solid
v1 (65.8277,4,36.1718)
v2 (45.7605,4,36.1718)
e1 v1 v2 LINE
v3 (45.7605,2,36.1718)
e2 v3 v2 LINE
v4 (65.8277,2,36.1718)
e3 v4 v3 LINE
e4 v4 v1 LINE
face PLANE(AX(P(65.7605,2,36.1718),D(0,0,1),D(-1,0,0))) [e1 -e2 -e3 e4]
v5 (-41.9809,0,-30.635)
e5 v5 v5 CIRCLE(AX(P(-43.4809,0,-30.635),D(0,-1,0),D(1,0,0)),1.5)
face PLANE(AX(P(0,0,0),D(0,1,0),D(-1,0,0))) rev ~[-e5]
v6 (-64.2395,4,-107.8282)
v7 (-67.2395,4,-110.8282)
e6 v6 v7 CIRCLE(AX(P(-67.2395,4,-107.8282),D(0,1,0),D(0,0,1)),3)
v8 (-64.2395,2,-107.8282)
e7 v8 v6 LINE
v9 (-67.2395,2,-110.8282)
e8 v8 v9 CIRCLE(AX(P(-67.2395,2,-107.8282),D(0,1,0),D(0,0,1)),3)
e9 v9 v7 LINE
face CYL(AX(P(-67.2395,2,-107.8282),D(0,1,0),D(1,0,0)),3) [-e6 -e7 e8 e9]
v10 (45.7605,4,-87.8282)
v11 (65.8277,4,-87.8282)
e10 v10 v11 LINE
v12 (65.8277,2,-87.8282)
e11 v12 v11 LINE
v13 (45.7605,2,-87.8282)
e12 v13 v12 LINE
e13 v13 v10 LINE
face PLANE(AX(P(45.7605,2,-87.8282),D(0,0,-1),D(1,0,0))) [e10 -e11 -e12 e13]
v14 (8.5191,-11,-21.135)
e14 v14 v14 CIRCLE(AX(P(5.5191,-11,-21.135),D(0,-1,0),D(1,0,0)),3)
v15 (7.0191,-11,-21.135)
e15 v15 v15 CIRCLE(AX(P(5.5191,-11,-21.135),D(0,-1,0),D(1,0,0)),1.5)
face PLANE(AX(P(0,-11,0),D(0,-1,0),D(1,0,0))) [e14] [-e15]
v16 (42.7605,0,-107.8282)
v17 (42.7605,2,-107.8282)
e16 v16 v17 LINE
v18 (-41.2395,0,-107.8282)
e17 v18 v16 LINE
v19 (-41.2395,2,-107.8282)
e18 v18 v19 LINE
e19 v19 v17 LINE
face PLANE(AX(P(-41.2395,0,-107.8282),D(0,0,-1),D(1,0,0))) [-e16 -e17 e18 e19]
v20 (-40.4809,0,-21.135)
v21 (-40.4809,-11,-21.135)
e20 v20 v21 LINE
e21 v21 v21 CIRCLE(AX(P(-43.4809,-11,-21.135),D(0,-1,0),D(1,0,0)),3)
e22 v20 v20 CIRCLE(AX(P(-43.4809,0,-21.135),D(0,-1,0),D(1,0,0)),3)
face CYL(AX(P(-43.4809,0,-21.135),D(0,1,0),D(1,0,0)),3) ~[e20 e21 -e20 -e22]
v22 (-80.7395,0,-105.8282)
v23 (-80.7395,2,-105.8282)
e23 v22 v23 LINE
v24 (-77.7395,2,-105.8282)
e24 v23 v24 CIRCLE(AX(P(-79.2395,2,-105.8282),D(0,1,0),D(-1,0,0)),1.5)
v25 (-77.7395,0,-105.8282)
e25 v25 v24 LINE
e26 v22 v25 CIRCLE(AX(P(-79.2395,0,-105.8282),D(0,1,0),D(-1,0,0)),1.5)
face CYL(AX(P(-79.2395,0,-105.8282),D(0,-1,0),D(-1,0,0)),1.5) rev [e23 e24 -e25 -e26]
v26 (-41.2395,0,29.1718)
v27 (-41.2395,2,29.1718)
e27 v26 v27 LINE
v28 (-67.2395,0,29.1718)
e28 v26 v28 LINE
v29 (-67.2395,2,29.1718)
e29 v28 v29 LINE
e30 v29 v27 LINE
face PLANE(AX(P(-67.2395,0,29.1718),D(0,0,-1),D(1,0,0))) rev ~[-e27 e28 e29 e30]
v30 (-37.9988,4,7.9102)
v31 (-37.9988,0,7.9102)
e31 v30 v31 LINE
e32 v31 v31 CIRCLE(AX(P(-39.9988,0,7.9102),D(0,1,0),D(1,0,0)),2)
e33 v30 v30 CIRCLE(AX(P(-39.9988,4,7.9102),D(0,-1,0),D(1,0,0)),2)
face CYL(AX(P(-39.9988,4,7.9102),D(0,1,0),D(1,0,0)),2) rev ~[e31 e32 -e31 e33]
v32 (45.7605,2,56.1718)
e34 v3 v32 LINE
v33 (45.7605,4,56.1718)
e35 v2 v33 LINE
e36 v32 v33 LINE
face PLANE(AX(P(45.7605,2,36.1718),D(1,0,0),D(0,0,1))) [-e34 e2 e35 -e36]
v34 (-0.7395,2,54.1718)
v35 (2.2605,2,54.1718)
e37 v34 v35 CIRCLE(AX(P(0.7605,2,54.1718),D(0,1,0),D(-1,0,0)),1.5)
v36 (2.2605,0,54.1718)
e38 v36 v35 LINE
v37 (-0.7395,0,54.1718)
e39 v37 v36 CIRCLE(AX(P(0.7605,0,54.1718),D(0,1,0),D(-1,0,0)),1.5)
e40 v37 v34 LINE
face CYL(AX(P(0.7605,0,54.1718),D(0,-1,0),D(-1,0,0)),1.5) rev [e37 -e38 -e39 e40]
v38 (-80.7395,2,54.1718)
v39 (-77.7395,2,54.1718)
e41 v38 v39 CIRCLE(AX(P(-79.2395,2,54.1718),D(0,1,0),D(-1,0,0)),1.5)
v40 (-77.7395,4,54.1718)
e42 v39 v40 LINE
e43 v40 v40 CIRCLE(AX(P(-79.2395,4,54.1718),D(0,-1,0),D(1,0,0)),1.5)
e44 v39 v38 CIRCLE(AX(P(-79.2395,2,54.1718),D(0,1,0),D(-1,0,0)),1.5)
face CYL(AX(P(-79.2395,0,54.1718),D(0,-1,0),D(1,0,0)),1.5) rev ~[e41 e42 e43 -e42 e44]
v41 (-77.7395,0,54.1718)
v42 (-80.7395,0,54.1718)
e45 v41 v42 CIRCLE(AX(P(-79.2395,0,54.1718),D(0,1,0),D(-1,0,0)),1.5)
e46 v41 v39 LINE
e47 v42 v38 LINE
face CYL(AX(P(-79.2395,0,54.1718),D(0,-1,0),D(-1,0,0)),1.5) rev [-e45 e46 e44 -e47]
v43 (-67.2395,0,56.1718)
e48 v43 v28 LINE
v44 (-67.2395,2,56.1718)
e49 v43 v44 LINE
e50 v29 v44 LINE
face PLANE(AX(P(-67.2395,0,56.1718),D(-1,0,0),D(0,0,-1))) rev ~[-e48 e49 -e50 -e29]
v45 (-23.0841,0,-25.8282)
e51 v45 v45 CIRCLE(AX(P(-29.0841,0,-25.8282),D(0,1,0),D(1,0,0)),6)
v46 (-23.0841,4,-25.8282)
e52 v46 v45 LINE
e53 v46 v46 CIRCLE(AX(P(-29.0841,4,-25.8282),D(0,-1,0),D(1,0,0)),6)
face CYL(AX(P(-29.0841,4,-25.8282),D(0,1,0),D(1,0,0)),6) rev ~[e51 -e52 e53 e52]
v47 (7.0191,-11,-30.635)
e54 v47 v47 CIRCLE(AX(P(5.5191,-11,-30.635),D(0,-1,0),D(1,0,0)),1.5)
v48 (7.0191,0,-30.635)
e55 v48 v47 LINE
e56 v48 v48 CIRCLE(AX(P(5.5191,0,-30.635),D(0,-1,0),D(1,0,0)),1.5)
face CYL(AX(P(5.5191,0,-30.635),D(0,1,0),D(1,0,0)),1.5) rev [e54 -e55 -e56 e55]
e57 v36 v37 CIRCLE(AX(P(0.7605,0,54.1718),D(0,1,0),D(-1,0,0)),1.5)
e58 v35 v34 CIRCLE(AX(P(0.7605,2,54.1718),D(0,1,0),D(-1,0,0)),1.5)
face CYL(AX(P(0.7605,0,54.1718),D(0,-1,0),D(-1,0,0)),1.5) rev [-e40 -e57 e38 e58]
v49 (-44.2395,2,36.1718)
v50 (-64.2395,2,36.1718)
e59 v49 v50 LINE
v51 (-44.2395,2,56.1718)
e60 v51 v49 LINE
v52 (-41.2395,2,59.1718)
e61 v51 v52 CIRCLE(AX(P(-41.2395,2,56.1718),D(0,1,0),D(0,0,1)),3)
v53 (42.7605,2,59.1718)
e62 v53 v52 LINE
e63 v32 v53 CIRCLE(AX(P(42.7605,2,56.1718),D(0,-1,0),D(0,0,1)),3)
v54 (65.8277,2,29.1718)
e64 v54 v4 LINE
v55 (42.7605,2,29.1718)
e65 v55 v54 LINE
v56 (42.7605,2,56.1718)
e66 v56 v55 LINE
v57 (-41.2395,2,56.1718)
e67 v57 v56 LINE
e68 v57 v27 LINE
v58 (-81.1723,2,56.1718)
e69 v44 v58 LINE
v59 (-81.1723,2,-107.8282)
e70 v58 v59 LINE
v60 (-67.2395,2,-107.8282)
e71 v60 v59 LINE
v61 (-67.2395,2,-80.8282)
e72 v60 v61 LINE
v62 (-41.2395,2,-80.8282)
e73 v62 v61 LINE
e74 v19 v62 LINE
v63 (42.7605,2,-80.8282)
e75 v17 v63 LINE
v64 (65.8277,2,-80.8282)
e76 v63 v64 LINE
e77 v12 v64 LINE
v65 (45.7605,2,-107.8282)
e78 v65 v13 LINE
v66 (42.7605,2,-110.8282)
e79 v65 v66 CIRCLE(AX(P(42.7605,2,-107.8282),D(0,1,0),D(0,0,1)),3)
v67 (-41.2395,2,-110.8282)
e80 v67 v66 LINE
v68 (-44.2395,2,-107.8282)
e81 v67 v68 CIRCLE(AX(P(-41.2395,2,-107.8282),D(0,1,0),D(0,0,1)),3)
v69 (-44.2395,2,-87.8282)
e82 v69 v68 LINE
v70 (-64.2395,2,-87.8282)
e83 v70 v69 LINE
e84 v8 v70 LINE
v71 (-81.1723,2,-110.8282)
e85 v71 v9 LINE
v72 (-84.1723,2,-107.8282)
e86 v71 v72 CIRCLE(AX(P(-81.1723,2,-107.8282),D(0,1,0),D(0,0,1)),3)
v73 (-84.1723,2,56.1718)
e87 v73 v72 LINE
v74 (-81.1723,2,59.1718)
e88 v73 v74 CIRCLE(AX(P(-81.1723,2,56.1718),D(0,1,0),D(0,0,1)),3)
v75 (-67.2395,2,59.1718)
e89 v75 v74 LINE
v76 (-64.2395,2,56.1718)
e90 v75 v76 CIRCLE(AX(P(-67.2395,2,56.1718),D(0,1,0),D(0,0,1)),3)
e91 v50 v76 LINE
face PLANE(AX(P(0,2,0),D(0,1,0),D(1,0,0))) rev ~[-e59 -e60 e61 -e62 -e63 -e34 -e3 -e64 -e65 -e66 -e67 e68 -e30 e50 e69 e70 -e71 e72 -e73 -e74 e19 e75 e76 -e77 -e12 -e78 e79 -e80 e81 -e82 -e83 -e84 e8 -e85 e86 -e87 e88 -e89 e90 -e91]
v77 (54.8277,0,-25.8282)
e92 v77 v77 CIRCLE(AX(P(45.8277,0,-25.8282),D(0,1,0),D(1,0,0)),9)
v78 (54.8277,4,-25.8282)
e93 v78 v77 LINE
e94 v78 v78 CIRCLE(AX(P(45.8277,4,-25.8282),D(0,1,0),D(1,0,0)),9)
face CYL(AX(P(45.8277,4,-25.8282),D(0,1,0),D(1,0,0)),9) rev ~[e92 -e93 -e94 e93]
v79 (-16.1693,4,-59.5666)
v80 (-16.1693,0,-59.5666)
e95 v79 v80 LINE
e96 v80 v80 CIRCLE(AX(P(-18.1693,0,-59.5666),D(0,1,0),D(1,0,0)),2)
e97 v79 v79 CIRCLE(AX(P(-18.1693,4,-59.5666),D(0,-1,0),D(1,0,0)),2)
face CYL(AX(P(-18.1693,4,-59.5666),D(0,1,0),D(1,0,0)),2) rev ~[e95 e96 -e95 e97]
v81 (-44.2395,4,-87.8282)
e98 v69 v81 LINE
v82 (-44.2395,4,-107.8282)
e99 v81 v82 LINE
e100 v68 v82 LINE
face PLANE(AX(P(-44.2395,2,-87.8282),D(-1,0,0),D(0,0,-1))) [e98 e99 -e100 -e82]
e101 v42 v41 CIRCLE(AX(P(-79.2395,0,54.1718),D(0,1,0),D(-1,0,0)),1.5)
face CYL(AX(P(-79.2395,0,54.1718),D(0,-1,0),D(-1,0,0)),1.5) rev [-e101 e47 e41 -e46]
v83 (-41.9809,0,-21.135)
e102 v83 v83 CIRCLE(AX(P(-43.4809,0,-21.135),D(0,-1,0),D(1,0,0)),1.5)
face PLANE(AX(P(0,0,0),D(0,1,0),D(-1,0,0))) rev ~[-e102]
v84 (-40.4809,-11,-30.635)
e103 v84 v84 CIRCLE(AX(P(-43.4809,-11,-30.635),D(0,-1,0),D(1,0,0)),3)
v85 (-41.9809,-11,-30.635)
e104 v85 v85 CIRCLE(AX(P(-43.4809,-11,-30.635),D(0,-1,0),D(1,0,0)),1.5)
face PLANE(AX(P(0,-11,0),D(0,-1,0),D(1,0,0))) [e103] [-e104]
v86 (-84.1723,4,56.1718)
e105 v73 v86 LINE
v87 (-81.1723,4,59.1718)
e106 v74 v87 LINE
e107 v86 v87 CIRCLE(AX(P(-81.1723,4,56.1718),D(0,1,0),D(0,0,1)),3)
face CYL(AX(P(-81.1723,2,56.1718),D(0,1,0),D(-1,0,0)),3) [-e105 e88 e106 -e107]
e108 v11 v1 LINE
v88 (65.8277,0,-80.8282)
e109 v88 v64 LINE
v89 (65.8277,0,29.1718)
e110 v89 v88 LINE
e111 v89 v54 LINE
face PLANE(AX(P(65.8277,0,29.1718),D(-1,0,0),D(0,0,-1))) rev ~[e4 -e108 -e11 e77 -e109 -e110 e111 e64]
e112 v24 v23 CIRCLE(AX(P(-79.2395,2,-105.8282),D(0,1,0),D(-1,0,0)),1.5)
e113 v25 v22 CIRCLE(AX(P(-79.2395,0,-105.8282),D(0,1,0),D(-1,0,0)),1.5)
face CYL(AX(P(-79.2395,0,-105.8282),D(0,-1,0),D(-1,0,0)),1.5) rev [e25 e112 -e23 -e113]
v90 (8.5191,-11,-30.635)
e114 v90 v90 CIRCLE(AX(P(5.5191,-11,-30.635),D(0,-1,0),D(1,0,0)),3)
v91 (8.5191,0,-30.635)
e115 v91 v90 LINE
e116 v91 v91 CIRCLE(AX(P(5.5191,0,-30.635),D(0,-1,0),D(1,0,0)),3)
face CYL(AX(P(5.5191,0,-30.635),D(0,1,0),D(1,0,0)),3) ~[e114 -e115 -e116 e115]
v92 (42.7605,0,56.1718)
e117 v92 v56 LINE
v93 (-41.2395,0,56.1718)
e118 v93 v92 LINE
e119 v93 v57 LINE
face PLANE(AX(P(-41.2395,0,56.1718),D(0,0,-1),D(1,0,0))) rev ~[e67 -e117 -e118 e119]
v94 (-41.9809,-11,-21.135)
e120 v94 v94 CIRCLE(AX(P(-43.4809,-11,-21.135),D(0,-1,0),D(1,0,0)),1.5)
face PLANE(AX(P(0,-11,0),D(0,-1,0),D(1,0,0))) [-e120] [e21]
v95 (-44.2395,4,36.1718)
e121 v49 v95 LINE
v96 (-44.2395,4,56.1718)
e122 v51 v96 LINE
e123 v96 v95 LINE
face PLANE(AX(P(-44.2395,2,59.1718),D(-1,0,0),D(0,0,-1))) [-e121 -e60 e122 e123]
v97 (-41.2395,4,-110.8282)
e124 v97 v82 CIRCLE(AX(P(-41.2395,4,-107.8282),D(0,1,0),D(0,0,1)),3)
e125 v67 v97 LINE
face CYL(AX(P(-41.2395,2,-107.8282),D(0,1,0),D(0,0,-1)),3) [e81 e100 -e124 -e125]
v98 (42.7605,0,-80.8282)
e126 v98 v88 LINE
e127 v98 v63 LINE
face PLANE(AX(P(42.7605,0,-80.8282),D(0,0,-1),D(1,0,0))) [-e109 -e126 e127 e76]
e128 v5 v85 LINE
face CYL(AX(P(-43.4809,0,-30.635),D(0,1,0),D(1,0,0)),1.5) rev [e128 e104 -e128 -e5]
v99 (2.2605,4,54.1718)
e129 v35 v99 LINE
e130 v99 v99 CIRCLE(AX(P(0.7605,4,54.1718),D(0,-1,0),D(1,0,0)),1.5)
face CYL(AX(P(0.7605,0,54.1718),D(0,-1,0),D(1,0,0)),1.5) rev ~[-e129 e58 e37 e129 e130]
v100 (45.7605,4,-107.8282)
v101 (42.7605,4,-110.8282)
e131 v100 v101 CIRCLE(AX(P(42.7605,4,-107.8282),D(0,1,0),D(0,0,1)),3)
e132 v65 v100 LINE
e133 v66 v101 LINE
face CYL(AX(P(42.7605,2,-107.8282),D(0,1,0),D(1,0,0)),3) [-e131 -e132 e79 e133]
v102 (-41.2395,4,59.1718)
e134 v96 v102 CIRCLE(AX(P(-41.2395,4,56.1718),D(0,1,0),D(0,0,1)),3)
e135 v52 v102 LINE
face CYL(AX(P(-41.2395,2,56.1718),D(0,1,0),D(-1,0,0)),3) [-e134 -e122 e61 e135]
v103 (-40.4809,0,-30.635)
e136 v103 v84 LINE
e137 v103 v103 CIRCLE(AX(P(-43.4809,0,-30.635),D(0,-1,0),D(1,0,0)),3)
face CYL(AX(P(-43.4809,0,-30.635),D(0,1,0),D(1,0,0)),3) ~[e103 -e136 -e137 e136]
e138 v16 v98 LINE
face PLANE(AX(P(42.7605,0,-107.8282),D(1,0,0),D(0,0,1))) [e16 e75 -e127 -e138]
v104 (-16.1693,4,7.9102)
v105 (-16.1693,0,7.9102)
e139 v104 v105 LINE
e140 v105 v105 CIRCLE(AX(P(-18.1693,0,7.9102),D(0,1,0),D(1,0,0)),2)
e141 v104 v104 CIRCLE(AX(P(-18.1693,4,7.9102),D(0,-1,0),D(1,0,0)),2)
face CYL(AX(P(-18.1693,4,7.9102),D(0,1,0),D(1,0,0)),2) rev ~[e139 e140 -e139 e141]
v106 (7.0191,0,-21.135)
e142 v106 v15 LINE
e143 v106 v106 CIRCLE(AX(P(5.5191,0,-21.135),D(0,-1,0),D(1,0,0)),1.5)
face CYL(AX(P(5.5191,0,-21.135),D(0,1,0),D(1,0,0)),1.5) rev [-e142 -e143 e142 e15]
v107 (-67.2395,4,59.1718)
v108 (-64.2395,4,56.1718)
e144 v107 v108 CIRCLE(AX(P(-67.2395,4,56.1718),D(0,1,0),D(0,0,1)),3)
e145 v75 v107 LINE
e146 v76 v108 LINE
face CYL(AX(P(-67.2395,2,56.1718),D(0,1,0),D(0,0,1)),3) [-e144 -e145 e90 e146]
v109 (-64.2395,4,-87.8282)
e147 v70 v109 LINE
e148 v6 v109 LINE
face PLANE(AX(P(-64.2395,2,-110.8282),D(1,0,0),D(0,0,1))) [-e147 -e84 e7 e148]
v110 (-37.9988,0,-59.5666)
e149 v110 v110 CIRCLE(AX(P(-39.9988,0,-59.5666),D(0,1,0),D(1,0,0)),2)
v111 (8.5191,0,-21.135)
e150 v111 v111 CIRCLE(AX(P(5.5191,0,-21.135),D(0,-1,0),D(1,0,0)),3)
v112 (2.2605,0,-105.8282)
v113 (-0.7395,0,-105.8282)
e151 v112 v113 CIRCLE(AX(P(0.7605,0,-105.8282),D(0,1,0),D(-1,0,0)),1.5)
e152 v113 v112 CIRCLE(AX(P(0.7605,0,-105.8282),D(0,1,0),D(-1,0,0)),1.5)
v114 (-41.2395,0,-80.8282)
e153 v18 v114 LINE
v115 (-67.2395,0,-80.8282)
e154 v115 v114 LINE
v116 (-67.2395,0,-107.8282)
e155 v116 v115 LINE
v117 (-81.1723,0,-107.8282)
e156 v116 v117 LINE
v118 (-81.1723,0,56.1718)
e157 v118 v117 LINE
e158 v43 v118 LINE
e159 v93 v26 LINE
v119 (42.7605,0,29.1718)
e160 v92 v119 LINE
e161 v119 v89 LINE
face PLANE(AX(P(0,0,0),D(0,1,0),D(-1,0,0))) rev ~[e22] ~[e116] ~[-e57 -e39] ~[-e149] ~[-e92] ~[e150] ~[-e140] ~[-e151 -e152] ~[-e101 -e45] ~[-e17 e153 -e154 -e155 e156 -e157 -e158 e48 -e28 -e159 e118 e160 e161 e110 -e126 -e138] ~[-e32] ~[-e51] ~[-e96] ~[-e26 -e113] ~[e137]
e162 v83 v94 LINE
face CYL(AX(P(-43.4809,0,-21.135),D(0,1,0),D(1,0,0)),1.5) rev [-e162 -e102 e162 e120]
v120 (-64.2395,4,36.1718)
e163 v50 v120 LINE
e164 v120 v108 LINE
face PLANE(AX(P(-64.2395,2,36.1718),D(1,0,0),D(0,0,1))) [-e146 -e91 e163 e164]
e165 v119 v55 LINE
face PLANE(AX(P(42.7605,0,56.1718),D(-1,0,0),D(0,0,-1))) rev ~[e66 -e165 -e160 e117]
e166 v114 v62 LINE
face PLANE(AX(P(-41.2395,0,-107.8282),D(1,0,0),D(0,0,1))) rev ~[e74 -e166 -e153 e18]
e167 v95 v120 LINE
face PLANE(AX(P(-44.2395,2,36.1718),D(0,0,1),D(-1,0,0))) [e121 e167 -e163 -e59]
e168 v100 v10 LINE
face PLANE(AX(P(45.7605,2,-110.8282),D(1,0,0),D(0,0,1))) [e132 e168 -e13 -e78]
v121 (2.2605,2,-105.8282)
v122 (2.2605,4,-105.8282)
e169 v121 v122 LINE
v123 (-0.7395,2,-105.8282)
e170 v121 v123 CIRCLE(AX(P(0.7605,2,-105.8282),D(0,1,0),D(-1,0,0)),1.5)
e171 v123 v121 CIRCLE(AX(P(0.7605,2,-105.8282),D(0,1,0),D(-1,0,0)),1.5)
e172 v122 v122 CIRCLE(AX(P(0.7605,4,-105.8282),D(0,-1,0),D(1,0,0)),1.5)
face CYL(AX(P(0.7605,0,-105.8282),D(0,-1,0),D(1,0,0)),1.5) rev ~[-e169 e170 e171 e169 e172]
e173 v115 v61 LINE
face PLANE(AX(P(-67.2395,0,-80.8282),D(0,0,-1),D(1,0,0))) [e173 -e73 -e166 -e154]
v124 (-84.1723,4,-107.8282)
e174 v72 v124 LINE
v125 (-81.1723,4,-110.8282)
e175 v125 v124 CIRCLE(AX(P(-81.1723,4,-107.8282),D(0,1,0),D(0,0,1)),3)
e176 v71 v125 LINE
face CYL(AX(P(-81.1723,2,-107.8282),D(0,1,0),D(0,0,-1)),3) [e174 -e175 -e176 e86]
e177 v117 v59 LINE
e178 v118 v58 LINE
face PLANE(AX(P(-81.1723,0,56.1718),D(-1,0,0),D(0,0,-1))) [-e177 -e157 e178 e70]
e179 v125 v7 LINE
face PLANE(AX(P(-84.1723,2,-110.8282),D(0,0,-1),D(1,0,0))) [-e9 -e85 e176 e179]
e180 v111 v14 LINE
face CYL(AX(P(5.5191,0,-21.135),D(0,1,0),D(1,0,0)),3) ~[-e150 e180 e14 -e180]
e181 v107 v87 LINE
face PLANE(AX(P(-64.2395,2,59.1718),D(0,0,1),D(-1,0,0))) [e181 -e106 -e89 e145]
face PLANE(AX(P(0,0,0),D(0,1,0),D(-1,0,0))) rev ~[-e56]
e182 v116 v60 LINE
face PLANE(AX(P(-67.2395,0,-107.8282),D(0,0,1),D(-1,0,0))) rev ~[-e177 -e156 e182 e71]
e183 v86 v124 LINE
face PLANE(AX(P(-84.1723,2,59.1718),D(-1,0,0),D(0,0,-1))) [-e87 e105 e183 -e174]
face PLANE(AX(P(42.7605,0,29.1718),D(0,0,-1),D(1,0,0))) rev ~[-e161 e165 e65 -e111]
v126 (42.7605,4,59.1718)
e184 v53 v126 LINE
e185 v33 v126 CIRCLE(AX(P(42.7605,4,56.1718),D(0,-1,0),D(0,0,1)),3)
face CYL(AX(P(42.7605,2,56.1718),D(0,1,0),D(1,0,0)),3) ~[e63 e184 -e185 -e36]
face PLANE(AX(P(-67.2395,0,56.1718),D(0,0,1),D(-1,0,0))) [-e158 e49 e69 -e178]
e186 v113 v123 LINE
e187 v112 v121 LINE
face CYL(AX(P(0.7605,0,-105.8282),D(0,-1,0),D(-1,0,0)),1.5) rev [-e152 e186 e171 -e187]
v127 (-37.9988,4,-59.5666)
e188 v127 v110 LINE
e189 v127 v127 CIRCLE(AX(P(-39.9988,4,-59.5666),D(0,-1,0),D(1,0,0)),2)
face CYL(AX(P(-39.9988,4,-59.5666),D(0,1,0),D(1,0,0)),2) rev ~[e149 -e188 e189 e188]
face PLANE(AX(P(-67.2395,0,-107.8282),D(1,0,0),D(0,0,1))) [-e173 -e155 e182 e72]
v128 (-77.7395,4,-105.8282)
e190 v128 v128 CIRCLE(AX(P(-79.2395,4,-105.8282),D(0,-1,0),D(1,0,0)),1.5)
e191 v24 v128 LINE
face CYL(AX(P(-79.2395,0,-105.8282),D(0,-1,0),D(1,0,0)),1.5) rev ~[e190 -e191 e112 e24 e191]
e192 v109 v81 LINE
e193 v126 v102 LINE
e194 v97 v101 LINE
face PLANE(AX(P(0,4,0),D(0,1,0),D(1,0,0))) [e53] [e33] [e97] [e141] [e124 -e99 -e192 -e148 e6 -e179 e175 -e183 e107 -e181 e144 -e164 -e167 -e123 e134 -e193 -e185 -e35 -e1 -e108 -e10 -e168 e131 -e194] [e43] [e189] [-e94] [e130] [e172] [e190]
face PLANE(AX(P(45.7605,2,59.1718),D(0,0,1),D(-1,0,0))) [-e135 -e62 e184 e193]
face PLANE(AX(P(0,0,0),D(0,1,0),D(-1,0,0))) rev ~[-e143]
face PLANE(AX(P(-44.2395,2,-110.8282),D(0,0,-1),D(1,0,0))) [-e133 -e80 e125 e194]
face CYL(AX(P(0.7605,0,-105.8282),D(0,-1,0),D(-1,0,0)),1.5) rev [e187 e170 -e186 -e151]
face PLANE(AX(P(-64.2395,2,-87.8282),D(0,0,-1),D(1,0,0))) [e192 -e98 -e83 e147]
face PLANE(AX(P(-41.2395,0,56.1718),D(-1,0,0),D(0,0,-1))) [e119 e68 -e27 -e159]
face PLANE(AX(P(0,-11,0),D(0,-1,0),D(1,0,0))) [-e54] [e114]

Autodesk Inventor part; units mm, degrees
ref_plane "YZ Plane" through (0, 0, 0) normal (1, 0, 0) x (0, 1, 0)
ref_plane "XZ Plane" through (0, 0, 0) normal (0, 1, 0) x (-1, 0, 0)
ref_plane "XY Plane" through (0, 0, 0) normal (0, 0, 1) x (1, 0, 0)
sketch "Sketch1" plane through (0, 0, 0) normal (0, 1, 0) x (-1, 0, 0)
  line L0 (-66.8277, -81.8282) -> (-43.7605, -81.8282)
  line L1 (-43.7605, -81.8282) -> (-43.7605, -108.8282)
  line L2 (-43.7605, -108.8282) -> (-43.7605, -81.8282)
  line L3 (-43.7605, -108.8282) -> (42.2395, -108.8282)
  line L4 (42.2395, -108.8282) -> (-43.7605, -108.8282)
  line L5 (42.2395, -108.8282) -> (42.2395, -81.8282)
  line L6 (42.2395, -81.8282) -> (66.2395, -81.8282)
  line L7 (66.2395, -81.8282) -> (66.2395, -108.8282)
  line L8 (66.2395, -108.8282) -> (82.1723, -108.8282)
  line L9 (82.1723, -108.8282) -> (82.1723, 57.1718)
  line L10 (82.1723, 57.1718) -> (66.2395, 57.1718)
  line L11 (66.2395, 57.1718) -> (82.1723, 57.1718)
  line L12 (66.2395, 30.1718) -> (42.2395, 30.1718)
  line L13 (42.2395, 30.1718) -> (42.2395, 57.1718)
  line L14 (42.2395, 30.1718) -> (42.2395, 57.1718)
  line L15 (42.2395, 57.1718) -> (-43.7605, 57.1718)
  line L16 (-43.7605, 30.1718) -> (-66.8277, 30.1718)
  line L17 (-66.8277, 30.1718) -> (-43.7605, 30.1718)
  line L18 (-66.8277, 30.1718) -> (-66.8277, -81.8282)
  circle A0 centre (79.2395, -105.8282) radius 1.5
  circle A1 centre (79.2395, -105.8282) radius 1.5
  circle A2 centre (79.2395, 54.1718) radius 1.5
  circle A3 centre (79.2395, 54.1718) radius 1.5
  circle A4 centre (-0.7605, 54.1718) radius 1.5
  circle A5 centre (-0.7605, 54.1718) radius 1.5
  circle A6 centre (-0.7605, -105.8282) radius 1.5
  line L19 (-43.7605, 57.1718) -> (-43.7605, 30.1718)
  line L20 (82.1723, 57.1718) -> (81.1723, 57.1718)
  line L21 (82.1723, 57.1718) -> (82.1723, 56.1718)
  line L22 (66.2395, 57.1718) -> (66.2395, 30.1718)
  line L23 (67.2395, 30.1718) -> (67.2395, 29.1718)
  line L24 (67.2395, 29.1718) -> (42.2395, 29.1718)
  line L25 (42.2395, 57.1718) -> (41.2395, 57.1718)
  line L26 (41.2395, 29.1718) -> (42.2395, 29.1718)
  line L27 (42.2395, 57.1718) -> (42.2395, 56.1718)
  line L28 (-43.7605, 57.1718) -> (-42.7605, 57.1718)
  line L29 (-66.8277, 30.1718) -> (-67.7605, 30.1718)
  line L30 (67.2395, 56.1718) -> (67.2395, 29.1718)
  line L31 (67.2395, 56.1718) -> (81.1723, 56.1718)
  line L32 (81.1723, 56.1718) -> (81.1723, -107.8282)
  line L33 (41.2395, 56.1718) -> (-42.7605, 56.1718)
  line L34 (-42.7605, 56.1718) -> (-42.7605, 29.1718)
  line L35 (41.2395, 56.1718) -> (41.2395, 29.1718)
  line L36 (-65.8277, 29.1718) -> (-65.8277, -80.8282)
  line L37 (-42.7605, 29.1718) -> (-65.8277, 29.1718)
  line L38 (67.2395, -80.8282) -> (42.2395, -80.8282)
  line L39 (41.2395, -80.8282) -> (42.2395, -80.8282)
  line L40 (67.2395, -107.8282) -> (67.2395, -80.8282)
  line L41 (67.2395, -107.8282) -> (81.1723, -107.8282)
  line L42 (41.2395, -107.8282) -> (-42.7605, -107.8282)
  line L43 (-42.7605, -107.8282) -> (-42.7605, -80.8282)
  line L44 (41.2395, -107.8282) -> (41.2395, -80.8282)
  line L45 (-42.7605, -80.8282) -> (-65.8277, -80.8282)
  point P0 (0, 0)
  point P1 (0, 0)
  point P2 (-65.7605, 30.1718)
  dimension "d0" = 1
  dimension "d1" = 1
  dimension "d2" = 1
  dimension "d3" = 1
  dimension "d4" = 1
  dimension "d5" = 1
  dimension "d6" = 1
  dimension "d97" = 1
  dimension "d99" = 84
  dimension "d100" = 25
  dimension "d101" = 27
  dimension "d102" = 1
  dimension "d103" = 147
  dimension "d104" = 1
extrude "Extrusion1" add sketch "Sketch1" along normal blind 2 contours L30 L31 L32 L41 L40 L38 L39 L44 L42 L43 L45 L36 L37 L34 L33 L35 L26 L24 L23
sketch "Sketch4" plane through (0, 2, 0) normal (0, 1, 0) x (1, 0, 0)
  line L0 (65.7605, -36.1718) -> (45.7605, -36.1718)
  line L1 (45.7605, -36.1718) -> (45.7605, -59.1718)
  line L2 (45.7605, -59.1718) -> (-44.2395, -59.1718)
  line L3 (-44.2395, -59.1718) -> (-44.2395, -36.1718)
  line L4 (-44.2395, -59.1718) -> (-44.2395, -36.1718)
  line L5 (-44.2395, -36.1718) -> (-64.2395, -36.1718)
  line L6 (-64.2395, -36.1718) -> (-64.2395, -59.1718)
  line L7 (-64.2395, -59.1718) -> (-84.1723, -59.1718)
  line L8 (-84.1723, -59.1718) -> (-84.1723, 110.8282)
  line L9 (-84.1723, -59.1718) -> (-84.1723, 110.8282)
  line L10 (-84.1723, 110.8282) -> (-64.2395, 110.8282)
  line L11 (-64.2395, 110.8282) -> (-64.2395, 87.8282)
  line L12 (-64.2395, 87.8282) -> (-44.2395, 87.8282)
  line L13 (-44.2395, 87.8282) -> (-44.2395, 110.8282)
  line L14 (-44.2395, 87.8282) -> (-44.2395, 110.8282)
  line L15 (-44.2395, 110.8282) -> (45.7605, 110.8282)
  line L16 (45.7605, 110.8282) -> (45.7605, 87.8282)
  line L17 (45.7605, 87.8282) -> (65.7605, 87.8282)
  line L18 (65.8277, 80.8282) -> (42.7605, 80.8282) projected
  line L19 (-41.2395, -56.1718) -> (42.7605, -56.1718) projected
  line L20 (-41.2395, 80.8282) -> (-67.2395, 80.8282) projected
  line L21 (-81.1723, 107.8282) -> (-81.1723, -56.1718) projected
  line L22 (42.7605, -56.1718) -> (42.7605, -29.1718) projected
  line L23 (65.8277, -29.1718) -> (65.8277, 80.8282) projected
  line L24 (-67.2395, 80.8282) -> (-67.2395, 107.8282) projected
  line L25 (-67.2395, 107.8282) -> (-81.1723, 107.8282) projected
  line L26 (-67.2395, -56.1718) -> (-67.2395, -29.1718) projected
  line L27 (-67.2395, -29.1718) -> (-41.2395, -29.1718) projected
  line L28 (42.7605, -29.1718) -> (65.8277, -29.1718) projected
  line L29 (65.7605, 87.8282) -> (65.8277, 87.8282)
  line L30 (65.8277, 87.8282) -> (65.8277, -36.1718)
  line L31 (65.7605, -36.1718) -> (65.8277, -36.1718)
  point P0 (-0.4583, 54.4093)
  point P1 (-0.4583, 54.4093)
  point P2 (65.7605, -59.1718)
  point P3 (65.7605, 110.8282)
  point P4 (67.7605, 110.8282)
  point P5 (67.7605, -59.1718)
  dimension "d40" = 2
  dimension "d53" = 3
  dimension "d54" = 3
  dimension "d55" = 3
  dimension "d56" = 3
  dimension "d57" = 3
  dimension "d58" = 3
  dimension "d59" = 7
  dimension "d60" = 3
  dimension "d61" = 3
  dimension "d62" = 3
  dimension "d63" = 7
extrude "Extrusion2" add sketch "Sketch4" along normal blind 2
sketch "Sketch5" plane through (0, 0, 0) normal (0, -1, 0) x (1, 0, 0)
  circle A0 centre (0.7605, 54.1718) radius 1.5 projected
  circle A1 centre (0.7605, 54.1718) radius 1.5
  circle A2 centre (0.7605, -105.8282) radius 1.5 projected
  circle A3 centre (0.7605, -105.8282) radius 1.5
  circle A4 centre (-79.2395, 54.1718) radius 1.5 projected
  circle A5 centre (-79.2395, 54.1718) radius 1.5
  circle A6 centre (-79.2395, -105.8282) radius 1.5 projected
  circle A7 centre (-79.2395, -105.8282) radius 1.5
  point P0 (0, 0)
extrude "Extrusion3" cut sketch "Sketch5" against normal blind 4
sketch "Sketch8" plane through (0, 4, 0) normal (0, 1, 0) x (1, 0, 0)
  circle A0 centre (-29.0841, 25.8282) radius 6
  line L0 (-29.0841, 25.8282) -> (-43.0841, 25.8282)
  line L1 (-43.0841, 25.8282) -> (-43.0841, 21.3282)
  circle A1 centre (-43.0841, 21.3282) radius 2
  circle A2 centre (-43.0841, 27.2184) radius 2
  line L2 (-29.0841, 25.8282) -> (4.9159, 25.8282)
  line L3 (4.9159, 25.8282) -> (4.9159, 18.2184)
  circle A3 centre (4.9159, 18.2184) radius 2
  circle A4 centre (4.9159, 27.2184) radius 2
  circle A5 centre (-29.0841, 25.8282) radius 35.46
  line L4 (-19.0841, 59.849) -> (-39.0841, 59.849)
  circle A6 centre (-18.1693, 59.5666) radius 2
  line L5 (-29.0841, -9.6318) -> (-29.0841, 40.8935)
  circle A7 centre (-39.9988, 59.5666) radius 2
  circle A8 centre (-18.1693, -7.9102) radius 2
  circle A9 centre (-39.9988, -7.9102) radius 2
  line L6 (-44.2395, -59.1718) -> (45.7605, -59.1718) projected
  line L7 (-84.1723, 110.8282) -> (-84.1723, -59.1718) projected
  point P0 (0, 0)
  point P1 (0, 0)
  dimension "d71" = 12
  dimension "d72" = 14
  dimension "d73" = 4.5
  dimension "d74" = 4
  dimension "d75" = 34
  dimension "d76" = 4
  dimension "d77" = 70.92
  dimension "d78" = 20
  dimension "d79" = 4
  dimension "d80" = 85
extrude "Extrusion4" cut sketch "Sketch8" against normal blind 5 contours L2 L5 A0 | A0 L5 L2 | L5 L0 A0 | A0 L0 L5 | A9 A5 | A5 A9 | A8 A5 | A5 A8 | A6 L4 A5 | A5 A6 | L4 A6 A5 | A7 A5 | A5 L4 A7 | L4 A5 A7
sketch "Sketch9" plane through (0, 0, 0) normal (0, -1, 0) x (1, 0, 0)
  arc A0 (7.1961, -19.635) -> (7.1961, -22.635) centre (5.5191, -21.135) ccw
  circle A1 centre (5.5191, -21.135) radius 2.25
  arc A2 (7.1961, -29.135) -> (7.1961, -32.135) centre (5.5191, -30.635) ccw
  circle A3 centre (5.5191, -30.635) radius 2.25
  arc A4 (-45.158, -22.635) -> (-45.158, -19.635) centre (-43.4809, -21.135) ccw
  circle A5 centre (-43.4809, -21.135) radius 2.25
  arc A6 (-45.158, -32.135) -> (-45.158, -29.135) centre (-43.4809, -30.635) ccw
  circle A7 centre (-43.4809, -30.635) radius 2.25
  circle A8 centre (-29.0898, -25.885) radius 6.4
  circle A9 centre (-29.0898, -25.885) radius 5.3776
  circle A10 centre (5.5191, -21.135) radius 3
  circle A11 centre (5.5191, -30.635) radius 3
  circle A12 centre (5.5191, -21.135) radius 1.5
  circle A13 centre (5.5191, -30.635) radius 1.5
  circle A14 centre (-43.4809, -21.135) radius 1.5
  circle A15 centre (-43.4809, -21.135) radius 3
  circle A16 centre (-43.4809, -30.635) radius 1.5
  circle A17 centre (-43.4809, -30.635) radius 3
  point P0 (0, 0)
  point P1 (0, 0)
  point P2 (-18.9809, -25.885)
  dimension "d84" = 6
  dimension "d85" = 6
  dimension "d86" = 3
  dimension "d87" = 3
  dimension "d88" = 3
  dimension "d89" = 6
  dimension "d90" = 3
  dimension "d91" = 6
extrude "Extrusion5" add sketch "Sketch9" along normal blind 11 contours A1 A0 | A3 A2 | A5 A4 | A7 A6 | A10 | A11 | A15 | A17
fillet "Fillet1" radius 3 8 edges at (-84.1723, 3, 59.1718) (-64.2395, 3, 59.1718) (-44.2395, 3, 59.1718) (45.7605, 3, 59.1718) (-84.1723, 3, -110.8282) (-64.2395, 3, -110.8282) (-44.2395, 3, -110.8282) (45.7605, 3, -110.8282)
sketch "Sketch13" plane through (0, 4, 0) normal (0, 1, 0) x (1, 0, 0)
  circle A0 centre (45.8277, 25.8282) radius 9
  line L0 (65.8277, -36.1718) -> (65.8277, 87.8282) projected
  point P0 (0, 0)
  dimension "d117" = 18
  dimension "d118" = 20
extrude "Extrusion7" cut sketch "Sketch13" against normal blind 10
properties part number "vrch1"
